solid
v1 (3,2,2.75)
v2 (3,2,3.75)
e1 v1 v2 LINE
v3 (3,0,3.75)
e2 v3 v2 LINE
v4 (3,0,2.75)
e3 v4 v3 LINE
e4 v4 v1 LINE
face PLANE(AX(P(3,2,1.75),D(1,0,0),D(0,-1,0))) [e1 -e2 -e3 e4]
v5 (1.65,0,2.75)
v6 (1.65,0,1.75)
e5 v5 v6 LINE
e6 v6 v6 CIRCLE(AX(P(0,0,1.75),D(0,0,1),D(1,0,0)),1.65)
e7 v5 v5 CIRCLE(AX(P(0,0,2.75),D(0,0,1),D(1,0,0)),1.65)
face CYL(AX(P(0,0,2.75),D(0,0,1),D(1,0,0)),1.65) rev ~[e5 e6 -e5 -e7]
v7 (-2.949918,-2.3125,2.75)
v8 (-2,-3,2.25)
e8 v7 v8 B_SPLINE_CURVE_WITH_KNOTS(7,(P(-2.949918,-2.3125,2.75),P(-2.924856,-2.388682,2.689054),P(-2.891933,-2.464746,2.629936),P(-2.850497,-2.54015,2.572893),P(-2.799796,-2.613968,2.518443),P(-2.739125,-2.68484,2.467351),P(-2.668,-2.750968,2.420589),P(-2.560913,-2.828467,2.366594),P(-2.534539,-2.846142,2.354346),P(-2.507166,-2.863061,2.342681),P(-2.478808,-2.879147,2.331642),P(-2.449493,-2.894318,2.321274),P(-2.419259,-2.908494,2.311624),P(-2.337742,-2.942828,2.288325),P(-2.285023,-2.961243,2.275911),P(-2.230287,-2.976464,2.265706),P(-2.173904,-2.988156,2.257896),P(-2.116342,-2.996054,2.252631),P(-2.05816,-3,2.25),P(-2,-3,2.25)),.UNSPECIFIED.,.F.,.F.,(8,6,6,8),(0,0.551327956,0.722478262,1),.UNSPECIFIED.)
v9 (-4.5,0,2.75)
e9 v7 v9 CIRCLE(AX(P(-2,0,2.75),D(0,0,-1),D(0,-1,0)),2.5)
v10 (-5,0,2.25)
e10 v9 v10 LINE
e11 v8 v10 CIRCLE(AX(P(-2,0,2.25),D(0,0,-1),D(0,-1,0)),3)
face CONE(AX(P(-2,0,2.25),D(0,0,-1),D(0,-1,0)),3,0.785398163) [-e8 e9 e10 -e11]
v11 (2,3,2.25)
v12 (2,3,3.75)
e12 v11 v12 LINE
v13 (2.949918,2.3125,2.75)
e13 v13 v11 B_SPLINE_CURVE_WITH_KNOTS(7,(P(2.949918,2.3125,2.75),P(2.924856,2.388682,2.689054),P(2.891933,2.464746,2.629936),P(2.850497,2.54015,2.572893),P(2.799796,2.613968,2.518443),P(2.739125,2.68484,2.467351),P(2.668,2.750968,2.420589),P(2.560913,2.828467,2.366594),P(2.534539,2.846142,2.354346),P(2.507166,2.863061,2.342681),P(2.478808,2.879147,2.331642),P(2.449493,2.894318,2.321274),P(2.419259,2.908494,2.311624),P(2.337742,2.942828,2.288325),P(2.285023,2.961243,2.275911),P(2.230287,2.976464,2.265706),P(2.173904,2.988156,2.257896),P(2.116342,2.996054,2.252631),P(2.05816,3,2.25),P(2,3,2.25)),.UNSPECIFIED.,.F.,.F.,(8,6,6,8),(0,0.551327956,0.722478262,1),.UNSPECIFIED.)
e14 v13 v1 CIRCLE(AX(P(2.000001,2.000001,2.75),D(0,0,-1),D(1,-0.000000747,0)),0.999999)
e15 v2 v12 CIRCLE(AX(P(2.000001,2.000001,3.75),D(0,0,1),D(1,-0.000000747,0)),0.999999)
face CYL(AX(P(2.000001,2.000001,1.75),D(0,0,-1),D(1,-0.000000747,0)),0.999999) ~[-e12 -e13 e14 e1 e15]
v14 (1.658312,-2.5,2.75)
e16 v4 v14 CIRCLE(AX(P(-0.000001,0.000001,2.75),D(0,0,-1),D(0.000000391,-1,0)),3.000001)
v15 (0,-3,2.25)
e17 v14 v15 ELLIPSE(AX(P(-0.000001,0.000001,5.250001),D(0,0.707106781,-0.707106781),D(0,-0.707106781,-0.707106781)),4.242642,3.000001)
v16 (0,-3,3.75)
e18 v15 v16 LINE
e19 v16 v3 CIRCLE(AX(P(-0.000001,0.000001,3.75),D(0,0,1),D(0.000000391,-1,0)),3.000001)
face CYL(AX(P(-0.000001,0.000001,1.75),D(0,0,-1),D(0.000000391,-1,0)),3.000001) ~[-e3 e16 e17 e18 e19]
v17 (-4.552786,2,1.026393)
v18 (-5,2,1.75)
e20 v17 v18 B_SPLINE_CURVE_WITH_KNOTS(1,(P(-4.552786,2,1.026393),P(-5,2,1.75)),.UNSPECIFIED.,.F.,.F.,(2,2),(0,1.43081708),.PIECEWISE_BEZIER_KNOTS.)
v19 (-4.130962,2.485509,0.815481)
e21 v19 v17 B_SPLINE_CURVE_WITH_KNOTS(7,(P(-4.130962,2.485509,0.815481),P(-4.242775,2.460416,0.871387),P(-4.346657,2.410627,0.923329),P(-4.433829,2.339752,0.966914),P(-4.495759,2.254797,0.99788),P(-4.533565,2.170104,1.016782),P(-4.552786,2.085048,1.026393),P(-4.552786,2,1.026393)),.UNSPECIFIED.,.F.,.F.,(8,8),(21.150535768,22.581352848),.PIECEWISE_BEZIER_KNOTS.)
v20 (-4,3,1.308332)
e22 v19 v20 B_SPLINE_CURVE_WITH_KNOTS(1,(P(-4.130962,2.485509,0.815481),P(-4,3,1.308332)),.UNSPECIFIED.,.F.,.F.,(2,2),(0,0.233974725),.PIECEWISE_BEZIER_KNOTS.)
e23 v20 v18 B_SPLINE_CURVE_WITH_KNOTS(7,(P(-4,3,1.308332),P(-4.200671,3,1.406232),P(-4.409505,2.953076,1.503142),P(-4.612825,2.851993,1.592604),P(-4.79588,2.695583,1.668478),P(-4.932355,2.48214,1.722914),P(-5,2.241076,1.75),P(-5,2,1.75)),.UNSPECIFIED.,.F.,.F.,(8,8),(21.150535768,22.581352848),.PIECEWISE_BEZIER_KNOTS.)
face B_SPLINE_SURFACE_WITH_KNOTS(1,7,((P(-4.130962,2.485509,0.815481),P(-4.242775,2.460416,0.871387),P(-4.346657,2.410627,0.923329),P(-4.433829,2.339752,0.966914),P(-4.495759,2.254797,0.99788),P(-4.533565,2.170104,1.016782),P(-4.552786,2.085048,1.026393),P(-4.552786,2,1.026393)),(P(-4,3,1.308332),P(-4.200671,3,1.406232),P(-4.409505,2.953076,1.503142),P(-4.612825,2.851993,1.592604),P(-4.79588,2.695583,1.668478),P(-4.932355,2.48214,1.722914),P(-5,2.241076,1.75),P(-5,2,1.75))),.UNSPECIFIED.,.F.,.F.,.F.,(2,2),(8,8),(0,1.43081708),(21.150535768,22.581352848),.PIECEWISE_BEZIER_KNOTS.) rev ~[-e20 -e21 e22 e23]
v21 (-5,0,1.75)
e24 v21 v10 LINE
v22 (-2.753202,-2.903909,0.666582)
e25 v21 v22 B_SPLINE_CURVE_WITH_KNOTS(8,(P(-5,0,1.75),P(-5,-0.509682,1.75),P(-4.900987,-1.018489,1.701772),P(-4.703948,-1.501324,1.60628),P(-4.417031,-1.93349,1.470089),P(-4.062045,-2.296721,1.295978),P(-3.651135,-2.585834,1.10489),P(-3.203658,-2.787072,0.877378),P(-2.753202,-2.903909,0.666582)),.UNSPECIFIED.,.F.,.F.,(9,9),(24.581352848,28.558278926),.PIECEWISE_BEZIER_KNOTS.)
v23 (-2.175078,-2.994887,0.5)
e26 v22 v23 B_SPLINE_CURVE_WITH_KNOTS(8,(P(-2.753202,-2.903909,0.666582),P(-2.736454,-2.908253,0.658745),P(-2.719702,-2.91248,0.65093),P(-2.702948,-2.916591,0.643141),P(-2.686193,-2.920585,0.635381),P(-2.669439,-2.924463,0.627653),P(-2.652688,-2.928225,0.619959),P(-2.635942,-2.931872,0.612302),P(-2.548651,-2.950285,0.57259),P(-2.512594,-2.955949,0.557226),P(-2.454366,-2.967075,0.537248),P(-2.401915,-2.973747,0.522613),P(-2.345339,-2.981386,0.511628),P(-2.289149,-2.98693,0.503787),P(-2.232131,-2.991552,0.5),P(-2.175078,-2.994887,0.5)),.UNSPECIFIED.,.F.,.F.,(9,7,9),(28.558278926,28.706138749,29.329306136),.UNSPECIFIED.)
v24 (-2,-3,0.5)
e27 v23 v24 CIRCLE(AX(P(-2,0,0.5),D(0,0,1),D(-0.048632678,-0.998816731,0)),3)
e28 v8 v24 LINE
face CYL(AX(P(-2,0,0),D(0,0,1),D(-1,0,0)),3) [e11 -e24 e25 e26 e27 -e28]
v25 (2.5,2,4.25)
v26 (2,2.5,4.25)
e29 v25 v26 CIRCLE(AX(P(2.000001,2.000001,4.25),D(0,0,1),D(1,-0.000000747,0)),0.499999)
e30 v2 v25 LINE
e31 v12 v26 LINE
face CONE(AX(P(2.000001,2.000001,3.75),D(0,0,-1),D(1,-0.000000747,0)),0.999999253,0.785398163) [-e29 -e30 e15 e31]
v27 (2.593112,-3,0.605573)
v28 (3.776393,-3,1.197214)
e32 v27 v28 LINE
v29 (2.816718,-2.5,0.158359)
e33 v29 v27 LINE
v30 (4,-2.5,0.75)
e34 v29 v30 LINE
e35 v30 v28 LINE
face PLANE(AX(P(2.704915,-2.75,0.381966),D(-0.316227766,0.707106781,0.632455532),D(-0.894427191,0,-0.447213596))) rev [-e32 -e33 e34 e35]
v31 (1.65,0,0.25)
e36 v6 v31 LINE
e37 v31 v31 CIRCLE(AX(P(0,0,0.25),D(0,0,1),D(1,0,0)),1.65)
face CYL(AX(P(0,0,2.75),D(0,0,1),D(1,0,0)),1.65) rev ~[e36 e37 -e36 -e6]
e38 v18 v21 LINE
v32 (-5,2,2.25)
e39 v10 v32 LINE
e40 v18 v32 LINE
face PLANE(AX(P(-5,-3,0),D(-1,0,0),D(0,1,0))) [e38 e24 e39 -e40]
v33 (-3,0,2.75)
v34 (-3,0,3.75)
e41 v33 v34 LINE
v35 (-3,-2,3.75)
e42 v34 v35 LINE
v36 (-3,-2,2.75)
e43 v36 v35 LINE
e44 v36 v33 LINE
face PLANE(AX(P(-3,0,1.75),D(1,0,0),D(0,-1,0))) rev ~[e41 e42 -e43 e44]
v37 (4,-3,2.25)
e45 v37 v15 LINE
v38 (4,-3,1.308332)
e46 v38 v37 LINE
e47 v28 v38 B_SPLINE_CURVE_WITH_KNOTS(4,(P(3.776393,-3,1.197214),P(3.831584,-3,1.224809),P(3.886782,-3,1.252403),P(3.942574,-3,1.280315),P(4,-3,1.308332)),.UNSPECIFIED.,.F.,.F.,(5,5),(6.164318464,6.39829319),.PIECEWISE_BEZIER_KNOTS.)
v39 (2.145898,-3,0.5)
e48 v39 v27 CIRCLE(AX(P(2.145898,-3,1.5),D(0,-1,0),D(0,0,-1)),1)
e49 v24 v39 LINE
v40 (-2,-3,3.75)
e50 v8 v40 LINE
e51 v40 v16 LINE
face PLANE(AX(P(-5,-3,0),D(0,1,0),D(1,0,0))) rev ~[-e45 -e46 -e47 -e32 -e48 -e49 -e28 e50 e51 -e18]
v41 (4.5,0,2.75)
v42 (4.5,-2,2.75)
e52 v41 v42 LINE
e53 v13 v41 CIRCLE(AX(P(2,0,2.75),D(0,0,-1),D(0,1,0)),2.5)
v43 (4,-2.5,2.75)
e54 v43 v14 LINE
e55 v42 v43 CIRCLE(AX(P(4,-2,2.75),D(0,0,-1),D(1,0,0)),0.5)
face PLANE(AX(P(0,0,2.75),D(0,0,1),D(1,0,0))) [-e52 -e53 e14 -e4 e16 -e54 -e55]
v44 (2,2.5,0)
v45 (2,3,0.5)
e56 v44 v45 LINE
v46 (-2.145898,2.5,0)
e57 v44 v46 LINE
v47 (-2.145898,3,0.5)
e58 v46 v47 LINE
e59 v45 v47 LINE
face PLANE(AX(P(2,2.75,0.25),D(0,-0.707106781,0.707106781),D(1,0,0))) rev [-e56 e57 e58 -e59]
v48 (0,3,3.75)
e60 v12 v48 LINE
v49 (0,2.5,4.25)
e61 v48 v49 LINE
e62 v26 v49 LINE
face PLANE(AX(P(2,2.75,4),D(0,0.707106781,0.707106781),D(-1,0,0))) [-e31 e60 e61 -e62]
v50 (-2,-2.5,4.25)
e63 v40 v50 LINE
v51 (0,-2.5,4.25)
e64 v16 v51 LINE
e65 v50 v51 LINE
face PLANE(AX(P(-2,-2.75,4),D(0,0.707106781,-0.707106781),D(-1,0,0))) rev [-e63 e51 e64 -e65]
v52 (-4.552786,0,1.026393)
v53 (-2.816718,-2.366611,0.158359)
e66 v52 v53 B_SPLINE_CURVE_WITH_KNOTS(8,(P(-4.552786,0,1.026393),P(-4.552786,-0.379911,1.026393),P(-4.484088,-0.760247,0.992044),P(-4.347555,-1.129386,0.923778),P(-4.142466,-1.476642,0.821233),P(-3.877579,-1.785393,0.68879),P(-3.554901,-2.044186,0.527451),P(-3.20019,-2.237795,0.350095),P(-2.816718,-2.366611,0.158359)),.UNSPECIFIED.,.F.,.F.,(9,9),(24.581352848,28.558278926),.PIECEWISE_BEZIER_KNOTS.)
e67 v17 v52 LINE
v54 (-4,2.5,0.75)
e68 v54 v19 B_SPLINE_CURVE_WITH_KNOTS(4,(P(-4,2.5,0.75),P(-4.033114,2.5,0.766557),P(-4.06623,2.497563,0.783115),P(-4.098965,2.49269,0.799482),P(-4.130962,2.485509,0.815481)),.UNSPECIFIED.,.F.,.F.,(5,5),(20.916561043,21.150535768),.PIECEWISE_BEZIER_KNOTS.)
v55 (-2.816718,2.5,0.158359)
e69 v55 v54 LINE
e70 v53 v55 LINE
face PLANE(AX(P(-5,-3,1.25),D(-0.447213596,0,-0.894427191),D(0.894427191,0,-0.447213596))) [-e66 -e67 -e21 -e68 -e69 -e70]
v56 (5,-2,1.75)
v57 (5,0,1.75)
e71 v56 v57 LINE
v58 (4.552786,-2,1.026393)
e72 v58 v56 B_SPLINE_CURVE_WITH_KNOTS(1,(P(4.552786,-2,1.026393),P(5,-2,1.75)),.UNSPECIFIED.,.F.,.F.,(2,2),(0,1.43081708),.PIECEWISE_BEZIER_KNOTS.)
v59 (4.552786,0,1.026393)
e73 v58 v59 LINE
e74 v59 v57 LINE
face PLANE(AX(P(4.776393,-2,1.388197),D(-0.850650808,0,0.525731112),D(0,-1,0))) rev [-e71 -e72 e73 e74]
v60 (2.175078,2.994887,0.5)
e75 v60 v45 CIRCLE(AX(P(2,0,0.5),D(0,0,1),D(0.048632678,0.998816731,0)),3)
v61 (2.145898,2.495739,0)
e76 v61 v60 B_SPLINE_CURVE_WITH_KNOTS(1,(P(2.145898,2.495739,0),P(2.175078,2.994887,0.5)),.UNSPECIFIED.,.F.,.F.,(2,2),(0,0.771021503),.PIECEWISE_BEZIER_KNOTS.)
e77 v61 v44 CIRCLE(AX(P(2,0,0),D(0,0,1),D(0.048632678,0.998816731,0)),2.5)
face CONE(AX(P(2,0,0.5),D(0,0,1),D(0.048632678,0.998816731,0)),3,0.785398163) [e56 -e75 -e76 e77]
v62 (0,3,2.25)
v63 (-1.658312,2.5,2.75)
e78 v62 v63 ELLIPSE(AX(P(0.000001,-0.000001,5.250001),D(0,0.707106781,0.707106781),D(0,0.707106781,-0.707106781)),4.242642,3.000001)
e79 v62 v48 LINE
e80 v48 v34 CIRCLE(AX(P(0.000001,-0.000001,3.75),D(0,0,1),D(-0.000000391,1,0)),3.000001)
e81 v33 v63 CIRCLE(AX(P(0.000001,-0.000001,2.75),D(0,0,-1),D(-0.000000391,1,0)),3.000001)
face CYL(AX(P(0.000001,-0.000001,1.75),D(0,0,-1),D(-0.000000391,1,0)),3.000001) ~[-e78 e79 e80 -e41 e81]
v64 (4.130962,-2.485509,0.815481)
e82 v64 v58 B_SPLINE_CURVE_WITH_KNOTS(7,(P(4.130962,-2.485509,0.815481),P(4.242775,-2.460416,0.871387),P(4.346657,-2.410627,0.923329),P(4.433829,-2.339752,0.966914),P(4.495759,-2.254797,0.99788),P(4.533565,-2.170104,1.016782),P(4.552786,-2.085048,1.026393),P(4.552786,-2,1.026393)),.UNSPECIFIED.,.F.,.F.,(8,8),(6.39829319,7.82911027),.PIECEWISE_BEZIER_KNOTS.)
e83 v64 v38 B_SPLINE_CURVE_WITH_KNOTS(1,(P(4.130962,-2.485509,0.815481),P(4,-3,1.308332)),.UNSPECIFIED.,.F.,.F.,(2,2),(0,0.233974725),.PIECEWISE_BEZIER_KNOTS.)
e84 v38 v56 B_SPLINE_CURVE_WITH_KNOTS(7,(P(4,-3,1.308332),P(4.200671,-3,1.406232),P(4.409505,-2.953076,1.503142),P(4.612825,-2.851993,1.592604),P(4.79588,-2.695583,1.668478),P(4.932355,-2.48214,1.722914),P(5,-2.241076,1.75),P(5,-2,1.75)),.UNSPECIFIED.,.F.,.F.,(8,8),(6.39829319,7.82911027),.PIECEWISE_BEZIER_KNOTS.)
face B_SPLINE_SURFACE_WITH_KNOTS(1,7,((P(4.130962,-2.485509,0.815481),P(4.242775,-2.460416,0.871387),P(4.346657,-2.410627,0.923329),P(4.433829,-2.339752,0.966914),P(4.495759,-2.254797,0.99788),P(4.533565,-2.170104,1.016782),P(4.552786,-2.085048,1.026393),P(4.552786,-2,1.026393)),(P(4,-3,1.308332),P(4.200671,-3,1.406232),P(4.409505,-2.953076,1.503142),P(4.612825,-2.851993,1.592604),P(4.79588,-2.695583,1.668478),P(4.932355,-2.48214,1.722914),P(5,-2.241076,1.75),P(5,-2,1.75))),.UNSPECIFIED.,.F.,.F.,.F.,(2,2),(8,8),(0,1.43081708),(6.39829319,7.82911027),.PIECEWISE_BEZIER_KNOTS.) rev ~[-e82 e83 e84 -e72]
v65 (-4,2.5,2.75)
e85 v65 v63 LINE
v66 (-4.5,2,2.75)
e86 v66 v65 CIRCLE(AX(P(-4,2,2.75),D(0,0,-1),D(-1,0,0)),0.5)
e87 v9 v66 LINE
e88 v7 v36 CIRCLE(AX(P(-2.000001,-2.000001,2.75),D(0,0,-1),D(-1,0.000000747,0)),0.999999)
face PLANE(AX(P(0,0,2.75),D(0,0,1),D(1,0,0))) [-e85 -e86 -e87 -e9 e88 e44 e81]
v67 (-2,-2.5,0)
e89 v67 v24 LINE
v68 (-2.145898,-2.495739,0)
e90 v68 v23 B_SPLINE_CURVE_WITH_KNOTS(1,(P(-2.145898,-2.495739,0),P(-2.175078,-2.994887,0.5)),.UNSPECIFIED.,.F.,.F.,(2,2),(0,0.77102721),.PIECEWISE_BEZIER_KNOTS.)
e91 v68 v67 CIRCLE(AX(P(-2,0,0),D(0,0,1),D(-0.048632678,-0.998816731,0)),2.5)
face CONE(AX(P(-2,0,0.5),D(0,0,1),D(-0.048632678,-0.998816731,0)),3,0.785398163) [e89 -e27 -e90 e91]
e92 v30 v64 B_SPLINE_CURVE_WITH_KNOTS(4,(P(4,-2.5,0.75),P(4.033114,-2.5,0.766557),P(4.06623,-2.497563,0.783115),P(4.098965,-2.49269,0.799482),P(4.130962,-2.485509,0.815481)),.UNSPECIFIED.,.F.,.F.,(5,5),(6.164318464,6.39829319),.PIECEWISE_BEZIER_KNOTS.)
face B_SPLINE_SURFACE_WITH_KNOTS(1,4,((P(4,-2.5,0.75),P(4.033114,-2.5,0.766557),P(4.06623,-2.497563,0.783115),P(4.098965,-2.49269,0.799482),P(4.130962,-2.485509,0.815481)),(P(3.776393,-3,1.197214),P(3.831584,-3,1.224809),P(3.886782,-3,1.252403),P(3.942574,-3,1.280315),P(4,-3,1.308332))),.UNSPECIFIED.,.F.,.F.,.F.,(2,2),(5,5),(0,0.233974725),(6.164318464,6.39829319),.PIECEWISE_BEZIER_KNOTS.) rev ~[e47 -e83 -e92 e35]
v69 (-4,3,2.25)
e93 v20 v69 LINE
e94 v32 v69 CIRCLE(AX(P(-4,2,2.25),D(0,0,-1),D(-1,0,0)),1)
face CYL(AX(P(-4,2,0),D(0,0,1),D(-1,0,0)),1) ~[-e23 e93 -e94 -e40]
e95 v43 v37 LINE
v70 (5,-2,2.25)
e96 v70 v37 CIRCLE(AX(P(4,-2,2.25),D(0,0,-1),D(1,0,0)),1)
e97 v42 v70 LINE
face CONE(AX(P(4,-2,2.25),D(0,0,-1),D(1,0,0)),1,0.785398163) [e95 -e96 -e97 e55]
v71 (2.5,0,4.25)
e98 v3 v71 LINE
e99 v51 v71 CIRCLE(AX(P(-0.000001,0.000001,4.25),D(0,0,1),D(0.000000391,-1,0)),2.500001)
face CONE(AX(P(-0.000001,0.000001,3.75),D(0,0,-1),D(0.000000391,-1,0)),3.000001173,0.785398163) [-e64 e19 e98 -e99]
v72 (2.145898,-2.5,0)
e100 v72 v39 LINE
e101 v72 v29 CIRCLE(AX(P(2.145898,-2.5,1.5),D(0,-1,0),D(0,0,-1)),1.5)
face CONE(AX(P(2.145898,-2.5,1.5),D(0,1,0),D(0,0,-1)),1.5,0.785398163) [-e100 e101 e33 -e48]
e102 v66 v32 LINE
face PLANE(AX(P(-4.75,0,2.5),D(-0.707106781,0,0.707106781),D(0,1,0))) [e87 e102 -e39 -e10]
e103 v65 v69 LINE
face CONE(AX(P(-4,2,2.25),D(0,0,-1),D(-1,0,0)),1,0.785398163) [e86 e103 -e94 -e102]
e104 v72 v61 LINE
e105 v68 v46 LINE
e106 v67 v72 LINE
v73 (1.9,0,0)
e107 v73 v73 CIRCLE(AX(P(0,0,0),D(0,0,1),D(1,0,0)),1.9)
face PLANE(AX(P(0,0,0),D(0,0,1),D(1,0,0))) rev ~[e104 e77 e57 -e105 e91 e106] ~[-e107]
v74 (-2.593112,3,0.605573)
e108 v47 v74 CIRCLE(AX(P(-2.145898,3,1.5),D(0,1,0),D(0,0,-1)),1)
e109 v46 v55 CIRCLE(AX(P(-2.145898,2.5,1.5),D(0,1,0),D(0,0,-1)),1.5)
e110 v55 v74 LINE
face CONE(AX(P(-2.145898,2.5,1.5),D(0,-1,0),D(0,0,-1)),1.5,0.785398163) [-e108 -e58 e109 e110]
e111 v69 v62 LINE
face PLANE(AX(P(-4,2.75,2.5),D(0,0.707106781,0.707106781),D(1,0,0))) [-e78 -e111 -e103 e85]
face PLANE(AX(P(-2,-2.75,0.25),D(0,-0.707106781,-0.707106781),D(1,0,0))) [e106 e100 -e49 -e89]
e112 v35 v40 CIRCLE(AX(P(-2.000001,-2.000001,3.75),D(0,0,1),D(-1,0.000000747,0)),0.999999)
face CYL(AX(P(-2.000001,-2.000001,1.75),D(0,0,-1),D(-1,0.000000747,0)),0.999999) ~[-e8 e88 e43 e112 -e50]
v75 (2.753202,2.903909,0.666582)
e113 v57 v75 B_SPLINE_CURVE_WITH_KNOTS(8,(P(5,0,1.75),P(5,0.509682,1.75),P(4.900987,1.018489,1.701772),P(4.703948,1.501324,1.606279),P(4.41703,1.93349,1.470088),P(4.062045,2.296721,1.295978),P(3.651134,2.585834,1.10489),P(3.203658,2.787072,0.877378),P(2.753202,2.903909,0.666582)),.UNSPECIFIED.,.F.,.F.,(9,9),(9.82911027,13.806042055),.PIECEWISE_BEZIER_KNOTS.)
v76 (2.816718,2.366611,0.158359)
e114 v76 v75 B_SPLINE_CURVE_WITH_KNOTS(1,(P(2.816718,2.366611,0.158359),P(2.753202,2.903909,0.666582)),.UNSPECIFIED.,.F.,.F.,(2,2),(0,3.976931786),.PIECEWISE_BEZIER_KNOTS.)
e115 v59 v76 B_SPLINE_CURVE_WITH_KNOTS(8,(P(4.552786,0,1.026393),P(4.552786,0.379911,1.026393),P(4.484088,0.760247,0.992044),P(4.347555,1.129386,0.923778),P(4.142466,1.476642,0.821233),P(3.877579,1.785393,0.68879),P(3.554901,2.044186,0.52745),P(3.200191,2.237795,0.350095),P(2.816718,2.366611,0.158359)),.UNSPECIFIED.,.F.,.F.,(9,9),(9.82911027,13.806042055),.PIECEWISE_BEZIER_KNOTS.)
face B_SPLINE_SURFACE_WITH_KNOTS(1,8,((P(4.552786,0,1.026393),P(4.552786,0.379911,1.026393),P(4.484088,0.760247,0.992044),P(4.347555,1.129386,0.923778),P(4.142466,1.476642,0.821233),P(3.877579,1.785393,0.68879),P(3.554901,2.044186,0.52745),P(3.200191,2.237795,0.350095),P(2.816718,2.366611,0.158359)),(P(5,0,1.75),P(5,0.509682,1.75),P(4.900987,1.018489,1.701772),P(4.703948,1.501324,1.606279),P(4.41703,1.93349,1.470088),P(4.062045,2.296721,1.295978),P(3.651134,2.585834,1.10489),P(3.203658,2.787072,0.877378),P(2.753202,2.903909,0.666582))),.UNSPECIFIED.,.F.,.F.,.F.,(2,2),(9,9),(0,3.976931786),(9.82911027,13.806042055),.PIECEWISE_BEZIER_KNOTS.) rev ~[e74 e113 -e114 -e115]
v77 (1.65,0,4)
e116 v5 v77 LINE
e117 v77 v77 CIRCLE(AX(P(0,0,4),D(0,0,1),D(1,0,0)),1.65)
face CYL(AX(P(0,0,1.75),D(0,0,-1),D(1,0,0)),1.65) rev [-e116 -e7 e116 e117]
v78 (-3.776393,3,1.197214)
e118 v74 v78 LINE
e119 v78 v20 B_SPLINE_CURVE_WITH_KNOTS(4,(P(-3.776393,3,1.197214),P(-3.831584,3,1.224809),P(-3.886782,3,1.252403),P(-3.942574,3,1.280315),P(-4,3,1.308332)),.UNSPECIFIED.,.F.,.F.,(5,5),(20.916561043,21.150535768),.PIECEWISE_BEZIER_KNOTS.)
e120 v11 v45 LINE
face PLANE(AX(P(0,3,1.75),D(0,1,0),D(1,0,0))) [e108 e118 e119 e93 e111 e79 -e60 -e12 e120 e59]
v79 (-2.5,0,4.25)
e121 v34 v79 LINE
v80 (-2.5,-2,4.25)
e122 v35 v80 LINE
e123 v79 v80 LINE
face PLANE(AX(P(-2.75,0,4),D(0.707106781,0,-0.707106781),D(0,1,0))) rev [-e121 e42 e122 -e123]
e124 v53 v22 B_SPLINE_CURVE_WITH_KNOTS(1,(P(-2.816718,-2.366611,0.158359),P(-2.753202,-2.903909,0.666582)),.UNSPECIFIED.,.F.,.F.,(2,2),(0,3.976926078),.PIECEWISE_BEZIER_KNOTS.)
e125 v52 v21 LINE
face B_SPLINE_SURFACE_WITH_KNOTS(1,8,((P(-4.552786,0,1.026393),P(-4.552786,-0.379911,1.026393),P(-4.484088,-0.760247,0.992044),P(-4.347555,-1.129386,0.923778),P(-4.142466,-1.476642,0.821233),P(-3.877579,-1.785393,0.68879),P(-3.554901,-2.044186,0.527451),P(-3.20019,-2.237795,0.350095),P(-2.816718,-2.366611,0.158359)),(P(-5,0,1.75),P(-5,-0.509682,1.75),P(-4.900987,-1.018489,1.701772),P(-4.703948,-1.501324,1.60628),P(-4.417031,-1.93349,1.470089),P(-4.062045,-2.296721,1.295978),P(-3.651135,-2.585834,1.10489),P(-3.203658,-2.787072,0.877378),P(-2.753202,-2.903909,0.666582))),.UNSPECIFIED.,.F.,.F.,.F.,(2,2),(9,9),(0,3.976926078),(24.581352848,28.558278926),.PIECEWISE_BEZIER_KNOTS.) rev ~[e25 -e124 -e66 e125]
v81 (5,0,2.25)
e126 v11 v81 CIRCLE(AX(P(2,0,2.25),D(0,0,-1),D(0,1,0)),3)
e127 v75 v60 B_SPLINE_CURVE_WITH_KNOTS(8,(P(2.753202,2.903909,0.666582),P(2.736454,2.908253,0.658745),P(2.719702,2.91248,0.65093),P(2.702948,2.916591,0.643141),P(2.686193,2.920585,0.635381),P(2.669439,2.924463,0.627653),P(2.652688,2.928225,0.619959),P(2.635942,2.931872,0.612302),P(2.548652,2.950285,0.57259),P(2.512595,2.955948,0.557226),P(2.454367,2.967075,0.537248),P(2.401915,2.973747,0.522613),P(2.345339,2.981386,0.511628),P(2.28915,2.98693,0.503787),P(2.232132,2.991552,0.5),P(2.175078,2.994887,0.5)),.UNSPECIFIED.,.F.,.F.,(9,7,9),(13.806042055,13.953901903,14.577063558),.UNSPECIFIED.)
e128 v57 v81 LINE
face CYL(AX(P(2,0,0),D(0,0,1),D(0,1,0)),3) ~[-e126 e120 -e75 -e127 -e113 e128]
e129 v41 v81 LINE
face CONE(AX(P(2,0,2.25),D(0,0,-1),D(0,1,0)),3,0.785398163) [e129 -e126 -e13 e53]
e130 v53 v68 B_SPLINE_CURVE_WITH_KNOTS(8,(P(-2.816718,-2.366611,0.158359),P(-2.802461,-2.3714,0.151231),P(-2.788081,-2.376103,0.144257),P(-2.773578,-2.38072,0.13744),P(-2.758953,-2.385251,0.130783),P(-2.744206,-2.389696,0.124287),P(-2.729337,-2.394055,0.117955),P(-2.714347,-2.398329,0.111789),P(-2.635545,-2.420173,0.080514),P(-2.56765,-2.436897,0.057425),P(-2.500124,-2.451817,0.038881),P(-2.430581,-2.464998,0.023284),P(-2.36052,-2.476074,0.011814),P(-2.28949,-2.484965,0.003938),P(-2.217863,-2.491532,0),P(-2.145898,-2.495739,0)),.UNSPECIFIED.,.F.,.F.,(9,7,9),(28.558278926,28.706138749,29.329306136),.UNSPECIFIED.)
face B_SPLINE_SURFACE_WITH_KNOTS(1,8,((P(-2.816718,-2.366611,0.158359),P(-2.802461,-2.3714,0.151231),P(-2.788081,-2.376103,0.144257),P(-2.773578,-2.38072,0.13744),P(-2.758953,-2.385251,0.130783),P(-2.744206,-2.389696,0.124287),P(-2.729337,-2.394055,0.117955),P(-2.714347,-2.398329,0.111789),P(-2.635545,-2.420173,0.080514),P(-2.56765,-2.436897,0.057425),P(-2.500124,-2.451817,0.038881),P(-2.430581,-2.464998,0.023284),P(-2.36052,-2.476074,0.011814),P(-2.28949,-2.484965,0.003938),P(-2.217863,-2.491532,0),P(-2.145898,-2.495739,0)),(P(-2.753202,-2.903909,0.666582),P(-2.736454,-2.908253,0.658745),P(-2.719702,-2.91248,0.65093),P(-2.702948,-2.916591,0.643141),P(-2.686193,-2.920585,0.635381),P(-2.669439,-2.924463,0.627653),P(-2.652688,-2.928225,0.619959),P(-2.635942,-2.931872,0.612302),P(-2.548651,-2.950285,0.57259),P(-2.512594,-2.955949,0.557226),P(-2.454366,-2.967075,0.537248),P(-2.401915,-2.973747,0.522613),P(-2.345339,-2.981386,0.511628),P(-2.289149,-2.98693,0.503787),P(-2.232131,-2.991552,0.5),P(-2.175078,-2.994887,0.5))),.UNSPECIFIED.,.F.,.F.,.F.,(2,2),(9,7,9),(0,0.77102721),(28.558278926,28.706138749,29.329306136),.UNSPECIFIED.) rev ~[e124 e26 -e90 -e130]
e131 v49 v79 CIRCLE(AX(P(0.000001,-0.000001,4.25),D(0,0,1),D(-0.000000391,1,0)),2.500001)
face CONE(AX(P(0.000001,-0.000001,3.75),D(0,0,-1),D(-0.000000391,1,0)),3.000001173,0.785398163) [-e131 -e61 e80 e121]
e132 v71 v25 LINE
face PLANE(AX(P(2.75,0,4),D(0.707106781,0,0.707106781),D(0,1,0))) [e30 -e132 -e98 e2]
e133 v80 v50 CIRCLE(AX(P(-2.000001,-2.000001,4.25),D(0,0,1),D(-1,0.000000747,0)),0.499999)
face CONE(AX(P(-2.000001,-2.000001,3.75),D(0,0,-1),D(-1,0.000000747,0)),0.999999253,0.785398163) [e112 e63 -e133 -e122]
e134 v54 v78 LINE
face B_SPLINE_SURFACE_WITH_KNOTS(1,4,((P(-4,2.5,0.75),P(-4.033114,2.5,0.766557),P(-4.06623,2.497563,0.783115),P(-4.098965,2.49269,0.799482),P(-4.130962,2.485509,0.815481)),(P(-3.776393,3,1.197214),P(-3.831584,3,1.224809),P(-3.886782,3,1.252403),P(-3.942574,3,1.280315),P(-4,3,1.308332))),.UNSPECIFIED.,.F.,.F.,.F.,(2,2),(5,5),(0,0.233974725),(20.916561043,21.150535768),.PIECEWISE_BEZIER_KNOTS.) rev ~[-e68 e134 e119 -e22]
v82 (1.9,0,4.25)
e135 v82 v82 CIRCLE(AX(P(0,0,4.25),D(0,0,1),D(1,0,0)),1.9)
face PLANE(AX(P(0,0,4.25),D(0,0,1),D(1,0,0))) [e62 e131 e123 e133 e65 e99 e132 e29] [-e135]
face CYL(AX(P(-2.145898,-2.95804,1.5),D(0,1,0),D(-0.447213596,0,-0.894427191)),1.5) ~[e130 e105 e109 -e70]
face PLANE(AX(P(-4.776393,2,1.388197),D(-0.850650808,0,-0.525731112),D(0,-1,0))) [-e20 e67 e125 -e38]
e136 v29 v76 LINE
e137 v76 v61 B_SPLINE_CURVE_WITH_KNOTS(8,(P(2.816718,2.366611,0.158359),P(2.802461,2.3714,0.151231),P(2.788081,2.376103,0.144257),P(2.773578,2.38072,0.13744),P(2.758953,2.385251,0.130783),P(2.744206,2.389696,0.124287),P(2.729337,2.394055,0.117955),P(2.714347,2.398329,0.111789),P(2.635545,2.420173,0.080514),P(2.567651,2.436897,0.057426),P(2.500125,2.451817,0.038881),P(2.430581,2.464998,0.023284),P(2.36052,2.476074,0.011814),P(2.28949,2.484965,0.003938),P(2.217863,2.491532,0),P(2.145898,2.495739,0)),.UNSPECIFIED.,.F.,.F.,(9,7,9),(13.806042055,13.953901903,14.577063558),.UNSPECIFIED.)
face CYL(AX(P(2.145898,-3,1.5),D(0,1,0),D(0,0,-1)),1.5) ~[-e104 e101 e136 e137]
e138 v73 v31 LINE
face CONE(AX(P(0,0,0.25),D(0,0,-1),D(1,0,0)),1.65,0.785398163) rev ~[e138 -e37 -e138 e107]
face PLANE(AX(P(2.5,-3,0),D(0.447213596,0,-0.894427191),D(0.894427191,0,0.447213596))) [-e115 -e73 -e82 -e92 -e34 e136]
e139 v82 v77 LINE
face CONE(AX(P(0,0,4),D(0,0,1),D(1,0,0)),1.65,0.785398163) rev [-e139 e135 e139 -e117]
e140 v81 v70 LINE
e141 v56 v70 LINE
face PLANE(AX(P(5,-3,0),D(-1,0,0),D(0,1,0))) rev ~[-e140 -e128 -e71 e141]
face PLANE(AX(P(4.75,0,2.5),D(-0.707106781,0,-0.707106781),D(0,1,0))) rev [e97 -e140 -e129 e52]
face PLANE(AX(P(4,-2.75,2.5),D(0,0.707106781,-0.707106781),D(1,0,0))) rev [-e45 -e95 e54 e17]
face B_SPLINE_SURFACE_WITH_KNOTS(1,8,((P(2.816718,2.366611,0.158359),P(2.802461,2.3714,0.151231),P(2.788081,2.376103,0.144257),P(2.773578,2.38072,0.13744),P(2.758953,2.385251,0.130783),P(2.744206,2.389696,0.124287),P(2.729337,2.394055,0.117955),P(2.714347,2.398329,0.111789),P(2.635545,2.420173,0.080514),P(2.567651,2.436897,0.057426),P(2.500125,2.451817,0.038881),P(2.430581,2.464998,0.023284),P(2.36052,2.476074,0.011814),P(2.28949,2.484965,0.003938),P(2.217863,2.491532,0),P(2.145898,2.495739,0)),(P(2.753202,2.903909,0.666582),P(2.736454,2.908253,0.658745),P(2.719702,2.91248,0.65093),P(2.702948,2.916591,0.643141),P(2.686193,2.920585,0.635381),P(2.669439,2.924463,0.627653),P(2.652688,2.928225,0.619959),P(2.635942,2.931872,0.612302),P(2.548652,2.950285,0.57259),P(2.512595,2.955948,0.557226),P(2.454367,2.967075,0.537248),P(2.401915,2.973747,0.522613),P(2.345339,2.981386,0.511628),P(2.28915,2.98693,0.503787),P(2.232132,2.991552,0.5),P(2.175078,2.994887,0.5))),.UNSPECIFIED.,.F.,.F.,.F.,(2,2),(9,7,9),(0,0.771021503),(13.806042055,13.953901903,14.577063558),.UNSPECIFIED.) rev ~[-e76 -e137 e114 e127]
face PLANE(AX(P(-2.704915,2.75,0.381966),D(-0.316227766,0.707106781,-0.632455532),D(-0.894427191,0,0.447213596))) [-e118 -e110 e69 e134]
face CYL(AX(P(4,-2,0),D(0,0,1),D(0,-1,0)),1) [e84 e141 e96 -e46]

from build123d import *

# Parameters (mm, degrees)
SKETCH_W        = 10
SKETCH_H        = 6
PAD_DEPTH       = 2.75
SKETCH001_R     = 1.65
HOLE_DEPTH      = 25
FILLET_R        = 3
FILLET001_R     = 1
POCKET_DEPTH    = 6.001
FILLET002_R     = 1.5
CHAMFER_SIZE    = 0.5
SKETCH002_R     = 1.65
PAD001_DEPTH    = 2.5
CHAMFER001_SIZE = 0.5
CHAMFER002_SIZE = 0.25


with BuildPart() as part:
    # Sketch → Pad (new body)
    with BuildSketch(Plane.XY):
        Rectangle(SKETCH_W, SKETCH_H)
    extrude(amount=PAD_DEPTH)

    # Sketch001 (on Face6 of Pad) → Hole (cut)
    with BuildSketch(Plane.XY.offset(2.75)):
        Circle(SKETCH001_R)
    extrude(amount=-HOLE_DEPTH, mode=Mode.SUBTRACT)

    # Fillet
    fillet_edges = [part.edges().sort_by_distance(p)[0] for p in [
        (-5, -3, 1.375),
        (5, 3, 1.375),
    ]]
    fillet(fillet_edges, radius=FILLET_R)

    # Fillet001
    fillet001_edges = [part.edges().sort_by_distance(p)[0] for p in [
        (-5, 3, 1.375),
        (5, -3, 1.375),
    ]]
    fillet(fillet001_edges, radius=FILLET001_R)

    # Sketch003 → Pocket (cut, through all)
    with BuildSketch(Plane.XZ.offset(3)):
        Polygon((-5, 1.25), (-2.5, 0), (-5, 0), align=None)
        Polygon((5, 1.25), (5, 0), (2.5, 0), align=None)
    extrude(amount=-POCKET_DEPTH, mode=Mode.SUBTRACT)

    # Fillet002
    fillet002_edges = [part.edges().sort_by_distance(p)[0] for p in [
        (-2.5, 0.02098, 0),
        (2.5, -0.02098, 0),
    ]]
    fillet(fillet002_edges, radius=FILLET002_R)

    # Chamfer
    chamfer_edges = [part.edges().sort_by_distance(p)[0] for p in [
        (-1, 3, 2.75),
        (0.072949, -3, 0),
    ]]
    chamfer(chamfer_edges, length=CHAMFER_SIZE)

    # Sketch002 (on Face5 of Hole) → Pad001 (join)
    with BuildSketch(Plane.XY.offset(1.75)):
        with BuildLine():
            ThreePointArc((0, 3), (-2.12132, 2.12132), (-3, 0))
            Line((-3, 0), (-3, -2))
            ThreePointArc((-3, -2), (-2.707107, -2.707107), (-2, -3))
            Line((-2, -3), (0, -3))
            ThreePointArc((0, -3), (2.12132, -2.12132), (3, 0))
            Line((3, 2), (3, 0))
            ThreePointArc((3, 2), (2.707107, 2.707107), (2, 3))
            Line((0, 3), (2, 3))
        make_face()
        Circle(SKETCH002_R, mode=Mode.SUBTRACT)
    extrude(amount=PAD001_DEPTH)

    # Chamfer001
    chamfer001_edges = [part.edges().sort_by_distance(p)[0] for p in [
        (-1, -3, 4.25),
    ]]
    chamfer(chamfer001_edges, length=CHAMFER001_SIZE)

    # Chamfer002
    chamfer002_edges = [part.edges().sort_by_distance(p)[0] for p in [
        (-1.65, 0, 0),
        (1.65, 0, 2.125),
        (-1.65, 0, 4.25),
    ]]
    chamfer(chamfer002_edges, length=CHAMFER002_SIZE)


solid = part.part
